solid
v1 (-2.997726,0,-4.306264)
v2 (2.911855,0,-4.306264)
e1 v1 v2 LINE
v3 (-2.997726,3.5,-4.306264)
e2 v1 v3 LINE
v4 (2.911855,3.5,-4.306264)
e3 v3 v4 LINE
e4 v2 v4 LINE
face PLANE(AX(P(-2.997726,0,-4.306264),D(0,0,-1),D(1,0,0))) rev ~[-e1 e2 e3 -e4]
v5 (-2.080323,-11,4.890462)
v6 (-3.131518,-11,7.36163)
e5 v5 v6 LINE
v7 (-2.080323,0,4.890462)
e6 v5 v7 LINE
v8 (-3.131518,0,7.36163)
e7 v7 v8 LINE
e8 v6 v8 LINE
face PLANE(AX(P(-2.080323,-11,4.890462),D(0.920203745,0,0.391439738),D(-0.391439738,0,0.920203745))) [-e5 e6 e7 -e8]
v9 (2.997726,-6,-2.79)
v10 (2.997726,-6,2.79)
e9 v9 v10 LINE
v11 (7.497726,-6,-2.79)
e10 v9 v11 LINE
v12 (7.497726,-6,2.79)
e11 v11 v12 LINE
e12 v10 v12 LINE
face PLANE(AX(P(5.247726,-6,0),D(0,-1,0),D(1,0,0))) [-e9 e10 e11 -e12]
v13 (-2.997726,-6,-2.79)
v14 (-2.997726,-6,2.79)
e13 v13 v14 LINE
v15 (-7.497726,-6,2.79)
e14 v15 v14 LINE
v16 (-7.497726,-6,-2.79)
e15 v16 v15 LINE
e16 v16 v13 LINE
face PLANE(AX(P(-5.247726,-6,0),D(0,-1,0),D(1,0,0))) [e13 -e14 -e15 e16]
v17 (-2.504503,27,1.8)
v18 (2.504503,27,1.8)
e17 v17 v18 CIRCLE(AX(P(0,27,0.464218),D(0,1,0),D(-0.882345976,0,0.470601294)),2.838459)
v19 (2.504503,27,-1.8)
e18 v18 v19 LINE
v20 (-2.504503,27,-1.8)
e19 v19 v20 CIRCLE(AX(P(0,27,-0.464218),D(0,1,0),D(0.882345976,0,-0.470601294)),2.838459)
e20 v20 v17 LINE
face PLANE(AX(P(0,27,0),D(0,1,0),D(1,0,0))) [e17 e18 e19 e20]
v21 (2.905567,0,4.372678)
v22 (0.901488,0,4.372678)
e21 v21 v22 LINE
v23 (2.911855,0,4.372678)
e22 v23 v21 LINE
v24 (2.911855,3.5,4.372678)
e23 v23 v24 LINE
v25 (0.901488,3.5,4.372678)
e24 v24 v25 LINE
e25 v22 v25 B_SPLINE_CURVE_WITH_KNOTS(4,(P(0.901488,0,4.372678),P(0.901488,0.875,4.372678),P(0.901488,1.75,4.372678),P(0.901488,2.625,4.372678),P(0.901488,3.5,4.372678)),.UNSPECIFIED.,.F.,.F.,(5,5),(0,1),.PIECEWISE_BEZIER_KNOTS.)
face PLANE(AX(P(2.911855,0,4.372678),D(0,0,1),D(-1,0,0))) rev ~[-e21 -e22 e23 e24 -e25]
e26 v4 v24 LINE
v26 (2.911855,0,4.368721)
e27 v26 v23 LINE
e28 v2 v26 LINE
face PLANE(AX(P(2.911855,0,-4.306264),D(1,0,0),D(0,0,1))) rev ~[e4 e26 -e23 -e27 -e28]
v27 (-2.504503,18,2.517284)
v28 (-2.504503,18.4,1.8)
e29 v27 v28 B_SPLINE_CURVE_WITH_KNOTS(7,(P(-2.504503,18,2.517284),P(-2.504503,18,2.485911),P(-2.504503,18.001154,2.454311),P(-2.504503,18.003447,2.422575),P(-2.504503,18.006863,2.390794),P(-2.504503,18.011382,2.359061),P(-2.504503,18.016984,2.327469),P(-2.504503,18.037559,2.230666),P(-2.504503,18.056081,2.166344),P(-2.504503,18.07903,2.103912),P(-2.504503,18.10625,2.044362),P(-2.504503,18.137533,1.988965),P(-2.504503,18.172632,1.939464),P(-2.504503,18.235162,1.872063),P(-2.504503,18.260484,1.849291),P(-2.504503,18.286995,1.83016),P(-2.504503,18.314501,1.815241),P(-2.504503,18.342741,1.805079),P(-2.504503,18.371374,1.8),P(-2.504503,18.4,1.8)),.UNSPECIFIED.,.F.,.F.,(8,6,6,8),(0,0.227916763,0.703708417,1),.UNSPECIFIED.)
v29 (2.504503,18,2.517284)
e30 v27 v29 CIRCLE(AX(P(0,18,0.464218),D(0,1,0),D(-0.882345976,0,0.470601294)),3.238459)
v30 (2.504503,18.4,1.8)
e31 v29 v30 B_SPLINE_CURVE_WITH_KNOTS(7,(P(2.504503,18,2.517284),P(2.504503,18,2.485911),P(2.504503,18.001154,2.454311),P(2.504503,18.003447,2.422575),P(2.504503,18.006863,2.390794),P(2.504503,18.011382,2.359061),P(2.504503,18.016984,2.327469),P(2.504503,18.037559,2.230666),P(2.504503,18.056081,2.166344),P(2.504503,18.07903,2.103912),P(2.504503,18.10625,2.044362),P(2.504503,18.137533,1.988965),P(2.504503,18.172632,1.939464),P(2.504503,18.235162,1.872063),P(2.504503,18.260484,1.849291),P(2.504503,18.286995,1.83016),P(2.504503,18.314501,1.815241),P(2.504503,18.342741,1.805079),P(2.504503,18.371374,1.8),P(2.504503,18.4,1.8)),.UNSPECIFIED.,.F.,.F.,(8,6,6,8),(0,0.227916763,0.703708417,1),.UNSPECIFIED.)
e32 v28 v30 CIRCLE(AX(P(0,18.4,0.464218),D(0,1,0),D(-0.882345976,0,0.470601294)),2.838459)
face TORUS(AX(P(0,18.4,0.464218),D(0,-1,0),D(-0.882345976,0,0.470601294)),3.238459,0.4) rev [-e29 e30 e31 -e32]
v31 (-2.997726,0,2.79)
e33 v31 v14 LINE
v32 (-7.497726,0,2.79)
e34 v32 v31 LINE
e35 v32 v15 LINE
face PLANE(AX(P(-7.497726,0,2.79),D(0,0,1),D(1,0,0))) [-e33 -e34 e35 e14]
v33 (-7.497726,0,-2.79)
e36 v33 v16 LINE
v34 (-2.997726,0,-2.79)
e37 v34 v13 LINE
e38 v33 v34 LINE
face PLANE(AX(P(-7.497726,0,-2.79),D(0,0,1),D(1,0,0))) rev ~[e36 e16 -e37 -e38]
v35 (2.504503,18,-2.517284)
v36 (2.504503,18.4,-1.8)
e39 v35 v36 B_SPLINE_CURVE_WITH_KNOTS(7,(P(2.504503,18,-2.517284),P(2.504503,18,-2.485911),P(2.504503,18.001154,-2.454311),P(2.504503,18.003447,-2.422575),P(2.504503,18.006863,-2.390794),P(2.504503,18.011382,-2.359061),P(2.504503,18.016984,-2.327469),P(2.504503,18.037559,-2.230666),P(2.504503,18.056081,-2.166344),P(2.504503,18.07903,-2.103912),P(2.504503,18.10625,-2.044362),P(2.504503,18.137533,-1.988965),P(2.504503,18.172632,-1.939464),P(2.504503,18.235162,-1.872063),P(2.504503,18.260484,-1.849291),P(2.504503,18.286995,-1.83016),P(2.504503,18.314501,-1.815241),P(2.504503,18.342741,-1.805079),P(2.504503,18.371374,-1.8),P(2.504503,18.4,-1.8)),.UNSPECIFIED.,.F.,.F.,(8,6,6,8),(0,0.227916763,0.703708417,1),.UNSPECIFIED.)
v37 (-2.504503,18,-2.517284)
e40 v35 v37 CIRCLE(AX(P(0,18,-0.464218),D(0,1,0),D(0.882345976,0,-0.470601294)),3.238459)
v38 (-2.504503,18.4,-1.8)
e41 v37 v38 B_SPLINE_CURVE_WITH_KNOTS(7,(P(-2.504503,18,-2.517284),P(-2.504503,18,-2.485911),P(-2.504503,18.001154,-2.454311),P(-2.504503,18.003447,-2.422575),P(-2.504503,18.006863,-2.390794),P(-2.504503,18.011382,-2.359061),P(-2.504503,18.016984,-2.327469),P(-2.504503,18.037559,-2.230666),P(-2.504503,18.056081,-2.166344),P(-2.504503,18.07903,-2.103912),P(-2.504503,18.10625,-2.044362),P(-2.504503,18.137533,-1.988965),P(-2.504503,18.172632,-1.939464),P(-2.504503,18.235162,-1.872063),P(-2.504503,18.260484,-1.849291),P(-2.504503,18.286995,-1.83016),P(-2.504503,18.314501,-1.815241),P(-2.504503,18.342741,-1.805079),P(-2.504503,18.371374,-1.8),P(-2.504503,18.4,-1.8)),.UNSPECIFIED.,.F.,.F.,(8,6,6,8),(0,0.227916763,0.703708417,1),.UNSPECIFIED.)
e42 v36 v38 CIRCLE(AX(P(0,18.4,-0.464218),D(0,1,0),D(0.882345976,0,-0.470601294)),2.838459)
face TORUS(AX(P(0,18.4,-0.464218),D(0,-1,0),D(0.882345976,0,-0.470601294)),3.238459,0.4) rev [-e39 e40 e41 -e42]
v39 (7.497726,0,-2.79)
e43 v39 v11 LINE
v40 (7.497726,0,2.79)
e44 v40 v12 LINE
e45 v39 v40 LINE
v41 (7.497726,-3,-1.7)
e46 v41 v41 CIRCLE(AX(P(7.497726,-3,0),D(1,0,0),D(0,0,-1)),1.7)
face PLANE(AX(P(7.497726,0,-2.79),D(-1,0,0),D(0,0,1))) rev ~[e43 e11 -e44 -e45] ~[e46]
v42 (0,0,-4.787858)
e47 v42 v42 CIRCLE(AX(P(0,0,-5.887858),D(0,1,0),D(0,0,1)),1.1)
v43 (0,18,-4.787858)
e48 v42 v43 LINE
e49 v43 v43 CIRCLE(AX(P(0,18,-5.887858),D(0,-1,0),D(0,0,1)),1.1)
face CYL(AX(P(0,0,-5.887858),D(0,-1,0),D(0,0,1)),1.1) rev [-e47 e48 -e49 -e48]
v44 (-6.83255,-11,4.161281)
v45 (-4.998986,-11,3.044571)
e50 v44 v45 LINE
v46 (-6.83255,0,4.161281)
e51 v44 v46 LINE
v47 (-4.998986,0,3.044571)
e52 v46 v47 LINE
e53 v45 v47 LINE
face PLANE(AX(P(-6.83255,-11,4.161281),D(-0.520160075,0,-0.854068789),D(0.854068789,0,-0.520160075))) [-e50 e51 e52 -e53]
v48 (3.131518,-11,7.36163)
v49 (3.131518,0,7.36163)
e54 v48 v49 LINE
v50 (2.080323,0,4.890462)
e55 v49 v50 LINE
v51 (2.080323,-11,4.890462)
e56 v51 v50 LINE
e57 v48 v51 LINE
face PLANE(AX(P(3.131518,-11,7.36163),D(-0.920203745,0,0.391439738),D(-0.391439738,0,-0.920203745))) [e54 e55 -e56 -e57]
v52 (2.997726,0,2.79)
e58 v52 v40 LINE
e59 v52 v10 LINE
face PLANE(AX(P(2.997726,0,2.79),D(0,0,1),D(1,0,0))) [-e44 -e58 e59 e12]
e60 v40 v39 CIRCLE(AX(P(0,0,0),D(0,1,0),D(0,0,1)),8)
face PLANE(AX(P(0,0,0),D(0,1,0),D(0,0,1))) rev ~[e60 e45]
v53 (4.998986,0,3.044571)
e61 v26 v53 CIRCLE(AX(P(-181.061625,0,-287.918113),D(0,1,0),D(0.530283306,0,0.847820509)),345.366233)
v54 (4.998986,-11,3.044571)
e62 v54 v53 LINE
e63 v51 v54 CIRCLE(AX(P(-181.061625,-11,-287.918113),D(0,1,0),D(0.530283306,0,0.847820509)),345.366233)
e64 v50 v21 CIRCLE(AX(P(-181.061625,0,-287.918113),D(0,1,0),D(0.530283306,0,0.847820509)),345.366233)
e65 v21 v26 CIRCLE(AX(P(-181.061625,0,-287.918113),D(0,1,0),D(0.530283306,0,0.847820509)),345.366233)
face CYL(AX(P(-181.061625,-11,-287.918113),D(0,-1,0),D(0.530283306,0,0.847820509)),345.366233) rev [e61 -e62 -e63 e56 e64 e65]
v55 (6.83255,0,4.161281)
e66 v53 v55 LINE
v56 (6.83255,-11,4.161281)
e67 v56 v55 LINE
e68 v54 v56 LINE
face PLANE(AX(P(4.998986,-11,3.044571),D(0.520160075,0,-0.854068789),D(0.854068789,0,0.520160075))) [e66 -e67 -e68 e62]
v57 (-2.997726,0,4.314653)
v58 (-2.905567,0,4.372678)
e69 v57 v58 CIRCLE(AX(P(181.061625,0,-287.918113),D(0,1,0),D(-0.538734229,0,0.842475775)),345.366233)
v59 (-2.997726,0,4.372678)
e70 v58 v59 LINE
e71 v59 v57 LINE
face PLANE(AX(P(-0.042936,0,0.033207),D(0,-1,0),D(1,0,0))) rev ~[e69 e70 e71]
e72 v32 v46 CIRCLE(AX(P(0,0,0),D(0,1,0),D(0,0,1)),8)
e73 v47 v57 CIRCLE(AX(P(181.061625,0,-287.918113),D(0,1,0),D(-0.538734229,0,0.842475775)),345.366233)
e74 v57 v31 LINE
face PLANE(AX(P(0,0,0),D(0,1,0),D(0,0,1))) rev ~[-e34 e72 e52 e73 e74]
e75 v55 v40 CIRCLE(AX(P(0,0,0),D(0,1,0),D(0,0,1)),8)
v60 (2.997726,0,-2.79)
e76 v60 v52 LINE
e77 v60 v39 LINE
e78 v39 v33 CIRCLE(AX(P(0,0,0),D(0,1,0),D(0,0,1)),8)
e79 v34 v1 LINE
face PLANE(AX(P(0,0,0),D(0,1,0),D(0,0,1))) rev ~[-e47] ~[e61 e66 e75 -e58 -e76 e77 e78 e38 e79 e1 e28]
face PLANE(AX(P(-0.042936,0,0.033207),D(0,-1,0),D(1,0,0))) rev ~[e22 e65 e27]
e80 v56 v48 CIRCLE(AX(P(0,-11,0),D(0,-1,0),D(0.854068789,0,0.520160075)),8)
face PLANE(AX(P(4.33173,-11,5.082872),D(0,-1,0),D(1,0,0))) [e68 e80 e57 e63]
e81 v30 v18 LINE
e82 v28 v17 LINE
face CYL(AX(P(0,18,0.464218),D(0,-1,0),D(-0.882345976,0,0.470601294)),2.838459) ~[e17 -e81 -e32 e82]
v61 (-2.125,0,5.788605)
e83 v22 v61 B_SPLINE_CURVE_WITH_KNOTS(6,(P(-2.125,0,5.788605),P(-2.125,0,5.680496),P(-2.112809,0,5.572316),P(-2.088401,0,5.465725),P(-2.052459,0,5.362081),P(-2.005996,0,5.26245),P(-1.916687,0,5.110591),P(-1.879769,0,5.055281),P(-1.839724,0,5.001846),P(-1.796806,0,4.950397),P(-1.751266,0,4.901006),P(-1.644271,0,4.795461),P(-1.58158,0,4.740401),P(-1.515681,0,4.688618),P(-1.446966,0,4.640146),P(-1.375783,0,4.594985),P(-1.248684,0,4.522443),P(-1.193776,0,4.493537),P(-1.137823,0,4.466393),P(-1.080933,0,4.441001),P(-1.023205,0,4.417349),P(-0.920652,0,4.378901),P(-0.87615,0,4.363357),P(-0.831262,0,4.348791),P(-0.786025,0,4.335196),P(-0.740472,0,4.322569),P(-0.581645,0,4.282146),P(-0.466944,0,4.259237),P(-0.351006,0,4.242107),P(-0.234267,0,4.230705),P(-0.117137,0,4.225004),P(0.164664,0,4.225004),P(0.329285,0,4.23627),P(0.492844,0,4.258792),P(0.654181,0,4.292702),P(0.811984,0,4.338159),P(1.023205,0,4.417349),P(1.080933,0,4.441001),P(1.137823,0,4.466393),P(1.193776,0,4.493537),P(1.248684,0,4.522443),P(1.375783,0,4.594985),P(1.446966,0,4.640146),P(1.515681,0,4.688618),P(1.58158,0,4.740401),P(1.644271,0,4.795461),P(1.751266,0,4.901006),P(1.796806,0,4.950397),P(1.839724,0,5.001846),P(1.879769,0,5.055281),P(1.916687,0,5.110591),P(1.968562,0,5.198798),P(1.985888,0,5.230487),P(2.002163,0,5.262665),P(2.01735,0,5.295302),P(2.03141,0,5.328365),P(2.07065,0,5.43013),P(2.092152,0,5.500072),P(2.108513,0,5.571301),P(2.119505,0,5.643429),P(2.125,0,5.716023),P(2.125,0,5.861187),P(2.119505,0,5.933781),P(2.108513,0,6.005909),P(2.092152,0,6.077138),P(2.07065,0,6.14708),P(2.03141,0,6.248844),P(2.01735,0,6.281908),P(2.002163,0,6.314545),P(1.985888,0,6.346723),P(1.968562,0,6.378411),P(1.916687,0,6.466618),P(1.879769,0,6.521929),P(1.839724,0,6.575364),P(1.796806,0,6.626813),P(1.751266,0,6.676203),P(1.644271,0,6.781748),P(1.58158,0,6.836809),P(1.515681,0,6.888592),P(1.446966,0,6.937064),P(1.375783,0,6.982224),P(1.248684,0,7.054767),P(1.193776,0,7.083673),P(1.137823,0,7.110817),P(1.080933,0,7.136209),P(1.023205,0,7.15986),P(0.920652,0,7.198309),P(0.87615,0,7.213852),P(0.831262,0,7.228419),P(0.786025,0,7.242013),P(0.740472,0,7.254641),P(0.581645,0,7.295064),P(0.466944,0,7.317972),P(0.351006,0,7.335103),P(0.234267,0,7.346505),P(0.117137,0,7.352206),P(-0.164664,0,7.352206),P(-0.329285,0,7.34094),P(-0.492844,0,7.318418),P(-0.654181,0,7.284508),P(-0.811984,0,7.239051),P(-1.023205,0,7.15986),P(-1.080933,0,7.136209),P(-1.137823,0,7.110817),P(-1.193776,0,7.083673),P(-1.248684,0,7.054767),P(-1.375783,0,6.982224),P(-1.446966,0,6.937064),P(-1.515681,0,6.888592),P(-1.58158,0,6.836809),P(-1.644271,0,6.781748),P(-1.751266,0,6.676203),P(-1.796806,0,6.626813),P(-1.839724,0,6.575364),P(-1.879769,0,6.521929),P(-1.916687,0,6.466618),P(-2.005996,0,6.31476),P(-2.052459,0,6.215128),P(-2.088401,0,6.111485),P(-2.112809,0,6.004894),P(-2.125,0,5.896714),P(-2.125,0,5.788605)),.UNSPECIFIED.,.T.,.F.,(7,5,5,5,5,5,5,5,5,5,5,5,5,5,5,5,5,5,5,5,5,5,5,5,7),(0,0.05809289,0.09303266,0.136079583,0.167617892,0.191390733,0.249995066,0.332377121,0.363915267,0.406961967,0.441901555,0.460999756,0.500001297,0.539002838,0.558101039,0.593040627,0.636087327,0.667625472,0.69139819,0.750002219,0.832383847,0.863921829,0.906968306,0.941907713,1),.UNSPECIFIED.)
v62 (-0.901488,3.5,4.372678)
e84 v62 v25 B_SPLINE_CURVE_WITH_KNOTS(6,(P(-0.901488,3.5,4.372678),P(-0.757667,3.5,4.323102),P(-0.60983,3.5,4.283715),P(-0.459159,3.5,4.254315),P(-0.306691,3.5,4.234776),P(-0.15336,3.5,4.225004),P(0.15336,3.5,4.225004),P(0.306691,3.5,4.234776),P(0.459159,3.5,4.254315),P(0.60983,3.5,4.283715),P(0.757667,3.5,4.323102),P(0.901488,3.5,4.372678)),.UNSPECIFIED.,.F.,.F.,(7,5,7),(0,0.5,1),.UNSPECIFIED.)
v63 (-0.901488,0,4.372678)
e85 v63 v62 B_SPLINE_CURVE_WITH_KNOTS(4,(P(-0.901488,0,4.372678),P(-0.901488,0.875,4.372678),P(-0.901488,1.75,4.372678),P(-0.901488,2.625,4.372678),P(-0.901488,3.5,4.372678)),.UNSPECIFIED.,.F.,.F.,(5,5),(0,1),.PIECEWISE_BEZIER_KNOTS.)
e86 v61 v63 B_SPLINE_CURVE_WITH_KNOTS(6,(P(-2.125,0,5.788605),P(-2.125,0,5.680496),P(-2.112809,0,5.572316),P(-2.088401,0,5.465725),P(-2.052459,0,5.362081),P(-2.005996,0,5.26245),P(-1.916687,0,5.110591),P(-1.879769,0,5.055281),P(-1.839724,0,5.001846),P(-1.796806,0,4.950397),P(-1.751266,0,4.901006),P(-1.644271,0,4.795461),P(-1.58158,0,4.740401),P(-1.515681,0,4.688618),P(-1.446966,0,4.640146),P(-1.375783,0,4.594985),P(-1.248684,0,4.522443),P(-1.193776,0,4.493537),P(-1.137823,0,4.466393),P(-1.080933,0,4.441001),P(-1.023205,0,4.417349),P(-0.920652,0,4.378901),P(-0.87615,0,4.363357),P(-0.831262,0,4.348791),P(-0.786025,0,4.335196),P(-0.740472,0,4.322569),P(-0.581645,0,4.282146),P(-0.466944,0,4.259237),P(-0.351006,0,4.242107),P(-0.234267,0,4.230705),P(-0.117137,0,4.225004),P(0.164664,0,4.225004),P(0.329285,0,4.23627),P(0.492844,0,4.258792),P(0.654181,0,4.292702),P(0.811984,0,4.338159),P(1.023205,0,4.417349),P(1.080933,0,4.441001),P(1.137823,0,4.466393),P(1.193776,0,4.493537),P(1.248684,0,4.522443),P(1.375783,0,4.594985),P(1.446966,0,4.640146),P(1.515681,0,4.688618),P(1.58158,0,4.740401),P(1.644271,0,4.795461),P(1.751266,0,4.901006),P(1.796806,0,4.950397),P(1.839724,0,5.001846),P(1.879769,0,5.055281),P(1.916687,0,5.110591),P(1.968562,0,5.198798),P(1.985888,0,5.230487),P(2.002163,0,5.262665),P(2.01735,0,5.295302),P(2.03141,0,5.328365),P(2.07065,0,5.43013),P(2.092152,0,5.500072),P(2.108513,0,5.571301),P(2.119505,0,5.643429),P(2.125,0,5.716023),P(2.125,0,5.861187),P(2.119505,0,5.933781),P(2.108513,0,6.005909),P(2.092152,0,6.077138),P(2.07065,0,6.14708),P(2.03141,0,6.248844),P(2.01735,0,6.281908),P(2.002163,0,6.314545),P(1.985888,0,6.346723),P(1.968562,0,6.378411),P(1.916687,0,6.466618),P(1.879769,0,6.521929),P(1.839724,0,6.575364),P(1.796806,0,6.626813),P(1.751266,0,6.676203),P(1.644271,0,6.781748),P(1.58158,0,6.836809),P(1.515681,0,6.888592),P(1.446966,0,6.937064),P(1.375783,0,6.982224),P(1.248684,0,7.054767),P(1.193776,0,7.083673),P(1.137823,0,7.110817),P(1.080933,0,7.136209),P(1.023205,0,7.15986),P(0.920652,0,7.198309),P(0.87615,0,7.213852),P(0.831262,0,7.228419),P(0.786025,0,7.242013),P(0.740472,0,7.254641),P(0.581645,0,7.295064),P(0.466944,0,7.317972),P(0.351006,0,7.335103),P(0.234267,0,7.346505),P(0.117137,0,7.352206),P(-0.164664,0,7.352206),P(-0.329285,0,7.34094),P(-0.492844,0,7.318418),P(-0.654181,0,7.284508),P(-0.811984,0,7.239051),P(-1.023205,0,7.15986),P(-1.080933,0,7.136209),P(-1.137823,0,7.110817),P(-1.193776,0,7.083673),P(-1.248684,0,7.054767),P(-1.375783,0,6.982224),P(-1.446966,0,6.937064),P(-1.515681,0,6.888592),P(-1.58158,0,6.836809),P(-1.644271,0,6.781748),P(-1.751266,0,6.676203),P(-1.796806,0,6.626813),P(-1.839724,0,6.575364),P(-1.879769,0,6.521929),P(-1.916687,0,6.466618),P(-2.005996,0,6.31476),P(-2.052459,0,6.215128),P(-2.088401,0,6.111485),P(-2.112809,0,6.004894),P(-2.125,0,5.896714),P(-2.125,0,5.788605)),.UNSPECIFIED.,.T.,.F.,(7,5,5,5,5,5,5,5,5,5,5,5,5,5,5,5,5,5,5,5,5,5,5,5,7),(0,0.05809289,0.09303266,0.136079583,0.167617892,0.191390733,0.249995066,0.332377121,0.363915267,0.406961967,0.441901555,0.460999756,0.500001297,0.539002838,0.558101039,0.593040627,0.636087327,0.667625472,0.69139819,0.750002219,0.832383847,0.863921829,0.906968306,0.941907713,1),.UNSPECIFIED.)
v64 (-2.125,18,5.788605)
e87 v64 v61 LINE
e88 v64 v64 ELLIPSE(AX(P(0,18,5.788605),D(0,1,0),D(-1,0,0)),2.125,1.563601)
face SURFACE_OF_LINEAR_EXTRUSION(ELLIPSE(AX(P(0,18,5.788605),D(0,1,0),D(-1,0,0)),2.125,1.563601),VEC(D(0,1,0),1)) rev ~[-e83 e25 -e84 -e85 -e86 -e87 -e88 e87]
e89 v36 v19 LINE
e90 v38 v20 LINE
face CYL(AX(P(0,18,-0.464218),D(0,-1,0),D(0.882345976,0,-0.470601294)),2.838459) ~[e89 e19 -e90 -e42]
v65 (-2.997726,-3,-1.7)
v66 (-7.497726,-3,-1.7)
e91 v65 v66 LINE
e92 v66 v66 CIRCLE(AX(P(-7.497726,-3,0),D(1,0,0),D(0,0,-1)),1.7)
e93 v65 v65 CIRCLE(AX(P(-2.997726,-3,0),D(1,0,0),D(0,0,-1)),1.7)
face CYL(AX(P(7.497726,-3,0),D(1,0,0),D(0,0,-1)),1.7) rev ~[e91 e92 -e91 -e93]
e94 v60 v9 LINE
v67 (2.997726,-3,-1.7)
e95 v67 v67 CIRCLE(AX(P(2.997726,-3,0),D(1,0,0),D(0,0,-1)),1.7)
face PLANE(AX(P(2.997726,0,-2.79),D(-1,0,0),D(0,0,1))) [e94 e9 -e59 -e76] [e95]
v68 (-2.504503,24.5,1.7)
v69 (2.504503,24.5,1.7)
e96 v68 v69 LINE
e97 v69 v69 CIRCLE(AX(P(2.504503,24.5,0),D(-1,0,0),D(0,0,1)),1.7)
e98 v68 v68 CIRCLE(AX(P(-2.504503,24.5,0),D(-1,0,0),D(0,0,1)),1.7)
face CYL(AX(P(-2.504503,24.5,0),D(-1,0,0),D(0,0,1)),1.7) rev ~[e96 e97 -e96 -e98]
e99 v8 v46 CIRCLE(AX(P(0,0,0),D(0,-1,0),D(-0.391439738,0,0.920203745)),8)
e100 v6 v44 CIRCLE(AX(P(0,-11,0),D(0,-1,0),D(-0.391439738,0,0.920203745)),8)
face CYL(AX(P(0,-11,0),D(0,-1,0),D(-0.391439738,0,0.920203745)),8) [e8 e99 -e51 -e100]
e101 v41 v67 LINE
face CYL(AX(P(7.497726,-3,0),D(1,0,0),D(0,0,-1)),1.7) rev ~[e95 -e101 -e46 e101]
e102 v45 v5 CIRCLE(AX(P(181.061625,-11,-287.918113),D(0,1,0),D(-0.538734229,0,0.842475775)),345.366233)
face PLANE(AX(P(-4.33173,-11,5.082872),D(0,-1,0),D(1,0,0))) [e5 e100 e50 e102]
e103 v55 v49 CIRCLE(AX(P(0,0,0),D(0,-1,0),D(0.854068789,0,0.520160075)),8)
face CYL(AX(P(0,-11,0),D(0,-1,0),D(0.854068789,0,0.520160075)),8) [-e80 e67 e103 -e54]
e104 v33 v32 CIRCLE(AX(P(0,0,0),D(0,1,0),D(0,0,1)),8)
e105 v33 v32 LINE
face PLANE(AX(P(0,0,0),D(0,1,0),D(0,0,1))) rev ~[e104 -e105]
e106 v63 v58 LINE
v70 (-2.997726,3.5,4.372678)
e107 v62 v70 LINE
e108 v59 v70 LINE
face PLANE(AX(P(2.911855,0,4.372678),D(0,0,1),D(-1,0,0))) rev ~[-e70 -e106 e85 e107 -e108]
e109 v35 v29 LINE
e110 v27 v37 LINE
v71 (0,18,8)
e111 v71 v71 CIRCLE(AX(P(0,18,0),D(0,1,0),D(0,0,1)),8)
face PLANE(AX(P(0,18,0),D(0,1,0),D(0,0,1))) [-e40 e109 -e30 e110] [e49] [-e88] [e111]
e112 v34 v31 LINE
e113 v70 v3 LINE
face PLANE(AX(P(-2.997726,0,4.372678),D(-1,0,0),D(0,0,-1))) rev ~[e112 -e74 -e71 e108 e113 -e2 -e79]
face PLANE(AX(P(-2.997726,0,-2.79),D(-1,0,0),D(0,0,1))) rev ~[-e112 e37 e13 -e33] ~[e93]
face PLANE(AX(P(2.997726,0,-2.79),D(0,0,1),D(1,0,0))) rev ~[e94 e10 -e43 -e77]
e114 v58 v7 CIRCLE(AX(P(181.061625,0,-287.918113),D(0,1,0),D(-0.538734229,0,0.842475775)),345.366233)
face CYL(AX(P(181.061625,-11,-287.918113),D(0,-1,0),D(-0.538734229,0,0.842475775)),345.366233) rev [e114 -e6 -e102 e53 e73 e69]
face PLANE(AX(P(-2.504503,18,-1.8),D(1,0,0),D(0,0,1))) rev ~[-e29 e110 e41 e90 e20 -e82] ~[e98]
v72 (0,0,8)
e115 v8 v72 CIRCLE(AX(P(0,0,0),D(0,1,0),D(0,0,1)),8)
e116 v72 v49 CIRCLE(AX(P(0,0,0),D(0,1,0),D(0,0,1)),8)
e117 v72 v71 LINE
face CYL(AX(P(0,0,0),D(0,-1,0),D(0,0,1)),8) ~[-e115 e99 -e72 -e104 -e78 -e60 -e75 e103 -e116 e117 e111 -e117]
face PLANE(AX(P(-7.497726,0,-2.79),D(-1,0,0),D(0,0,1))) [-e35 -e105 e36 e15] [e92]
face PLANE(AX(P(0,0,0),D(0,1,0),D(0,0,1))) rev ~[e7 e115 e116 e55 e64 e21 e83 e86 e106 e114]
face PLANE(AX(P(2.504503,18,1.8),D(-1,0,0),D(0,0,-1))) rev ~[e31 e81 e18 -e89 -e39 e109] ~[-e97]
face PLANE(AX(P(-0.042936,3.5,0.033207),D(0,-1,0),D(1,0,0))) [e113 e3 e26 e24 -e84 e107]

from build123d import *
from build123d.topology import SkipClean

# Parameters (mm, degrees)
SKETCH2_R           = 8
BOSS_EXTRUDE1_DEPTH = 18
BOSS_EXTRUDE3_DEPTH = 9
FILLET1_R           = 0.4
SKETCH12_R          = 1.1
CUT_EXTRUDE2_DEPTH  = 30.274562429
SKETCH13_R          = 1.7
CUT_EXTRUDE3_DEPTH  = 31.055691415
SKETCH14_W          = 4.5
SKETCH14_H          = 5.58
BOSS_EXTRUDE5_DEPTH = 6
SKETCH15_R          = 1.7
CUT_EXTRUDE4_DEPTH  = 33.143110095
SKETCH18_RX         = 2.125
SKETCH18_RY         = 1.56360128
CUT_EXTRUDE5_DEPTH  = 27.532998323
BOSS_EXTRUDE6_START = 11
BOSS_EXTRUDE6_DEPTH = 11
CUT_EXTRUDE6_DEPTH  = 3.5


with BuildPart() as part:
    # Sketch2 → Boss-Extrude1 (new body)
    with BuildSketch(Plane(origin=(0, 0, 0), x_dir=(1, 0, 0), z_dir=(0, 1, 0))):
        with Locations(Location((0, 0, 0), (0, 0, 270))):
            Circle(SKETCH2_R)
    extrude(amount=BOSS_EXTRUDE1_DEPTH)

    # Sketch4 → Boss-Extrude3 (add)
    with BuildSketch(Plane(origin=(0, 18, 0), x_dir=(1, 0, 0), z_dir=(0, 1, 0))):
        with BuildLine():
            Line((2.504502892, -1.8), (2.504502892, 1.8))
            ThreePointArc((2.504502892, 1.8), (0, 3.30267653), (-2.504502892, 1.8))
            Line((-2.504502892, 1.8), (-2.504502892, -1.8))
            ThreePointArc((-2.504502892, -1.8), (0, -3.30267653), (2.504502892, -1.8))
        make_face()
    extrude(amount=BOSS_EXTRUDE3_DEPTH)

    # Fillet1
    fillet1_edges = [part.edges().sort_by_distance(p)[0] for p in [
        (0, 18, -3.30267653),
        (0, 18, 3.30267653),
    ]]
    fillet(fillet1_edges, radius=FILLET1_R)

    # Sketch12 → Cut-Extrude2 (cut, through all)
    with BuildSketch(Plane(origin=(0, 0, 0), x_dir=(1, 0, 0), z_dir=(0, 1, 0))):
        with Locations(Location((0, 5.887857779, 0), (0, 0, 270))):
            Circle(SKETCH12_R)
    extrude(amount=CUT_EXTRUDE2_DEPTH, mode=Mode.SUBTRACT)

    # Sketch13 → Cut-Extrude3 (cut, through all)
    with BuildSketch(Plane.ZY.offset(2.504502892)):
        with Locations((0, 24.5)):
            Circle(SKETCH13_R)
    extrude(amount=-CUT_EXTRUDE3_DEPTH, mode=Mode.SUBTRACT)

    # Sketch14 → Boss-Extrude5 (add)
    with BuildSketch(Plane.XZ):
        with Locations((-5.247726322, 0)):
            Rectangle(SKETCH14_W, SKETCH14_H)
        with Locations((5.247726322, 0)):
            Rectangle(SKETCH14_W, SKETCH14_H)
    extrude(amount=BOSS_EXTRUDE5_DEPTH)

    # Sketch15 → Cut-Extrude4 (cut, through all)
    with BuildSketch(Plane(origin=(7.497726322, 0, 0), x_dir=(0, 0, -1), z_dir=(1, 0, 0))):
        with Locations((0, -3)):
            Circle(SKETCH15_R)
    extrude(amount=-CUT_EXTRUDE4_DEPTH, mode=Mode.SUBTRACT)

    # Sketch18 → Cut-Extrude5 (cut, through all)
    with BuildSketch(Plane(origin=(0, 18, 0), x_dir=(1, 0, 0), z_dir=(0, 1, 0))):
        with Locations(Location((0, -5.788604863), (0, 0, 180))):
            Ellipse(SKETCH18_RX, SKETCH18_RY)
    extrude(amount=-CUT_EXTRUDE5_DEPTH, mode=Mode.SUBTRACT)

    # Sketch19 → Boss-Extrude6 (add)
    with SkipClean():  # the faces are left unmerged after this step: merging them gives an invalid solid
        with BuildSketch(Plane.XZ.offset(BOSS_EXTRUDE6_START)):
            with BuildLine():
                Line((-6.832550312, 4.1612806), (-4.998986356, 3.04457106))
                ThreePointArc((-4.998986356, 3.04457106), (-3.54196191, 3.971164487), (-2.080323071, 4.890461784))
                Line((-2.080323071, 4.890461784), (-3.131517904, 7.361629956))
                ThreePointArc((-3.131517904, 7.361629956), (-5.232707029, 6.051345069), (-6.832550312, 4.1612806))
            make_face()
            with BuildLine():
                Line((3.131517904, 7.361629956), (2.080323071, 4.890461784))
                ThreePointArc((2.080323071, 4.890461784), (3.54196191, 3.971164487), (4.998986356, 3.04457106))
                Line((4.998986356, 3.04457106), (6.832550312, 4.1612806))
                ThreePointArc((6.832550312, 4.1612806), (5.232707029, 6.051345069), (3.131517904, 7.361629956))
            make_face()
        extrude(amount=-BOSS_EXTRUDE6_DEPTH)

    # Sketch20 → Cut-Extrude6 (cut)
    with SkipClean():  # the faces are left unmerged after this step: merging them gives an invalid solid
        with BuildSketch(Plane.XZ):
            Polygon((2.911854561, -2.79), (2.911854561, 2.79), (2.911854561, 4.372678458), (-2.997726322, 4.372678458), (-2.997726322, 2.79), (-2.997726322, -2.79), (-2.997726322, -4.306263787), (2.911854561, -4.306263787), align=None)
        extrude(amount=-CUT_EXTRUDE6_DEPTH, mode=Mode.SUBTRACT)


solid = part.part
